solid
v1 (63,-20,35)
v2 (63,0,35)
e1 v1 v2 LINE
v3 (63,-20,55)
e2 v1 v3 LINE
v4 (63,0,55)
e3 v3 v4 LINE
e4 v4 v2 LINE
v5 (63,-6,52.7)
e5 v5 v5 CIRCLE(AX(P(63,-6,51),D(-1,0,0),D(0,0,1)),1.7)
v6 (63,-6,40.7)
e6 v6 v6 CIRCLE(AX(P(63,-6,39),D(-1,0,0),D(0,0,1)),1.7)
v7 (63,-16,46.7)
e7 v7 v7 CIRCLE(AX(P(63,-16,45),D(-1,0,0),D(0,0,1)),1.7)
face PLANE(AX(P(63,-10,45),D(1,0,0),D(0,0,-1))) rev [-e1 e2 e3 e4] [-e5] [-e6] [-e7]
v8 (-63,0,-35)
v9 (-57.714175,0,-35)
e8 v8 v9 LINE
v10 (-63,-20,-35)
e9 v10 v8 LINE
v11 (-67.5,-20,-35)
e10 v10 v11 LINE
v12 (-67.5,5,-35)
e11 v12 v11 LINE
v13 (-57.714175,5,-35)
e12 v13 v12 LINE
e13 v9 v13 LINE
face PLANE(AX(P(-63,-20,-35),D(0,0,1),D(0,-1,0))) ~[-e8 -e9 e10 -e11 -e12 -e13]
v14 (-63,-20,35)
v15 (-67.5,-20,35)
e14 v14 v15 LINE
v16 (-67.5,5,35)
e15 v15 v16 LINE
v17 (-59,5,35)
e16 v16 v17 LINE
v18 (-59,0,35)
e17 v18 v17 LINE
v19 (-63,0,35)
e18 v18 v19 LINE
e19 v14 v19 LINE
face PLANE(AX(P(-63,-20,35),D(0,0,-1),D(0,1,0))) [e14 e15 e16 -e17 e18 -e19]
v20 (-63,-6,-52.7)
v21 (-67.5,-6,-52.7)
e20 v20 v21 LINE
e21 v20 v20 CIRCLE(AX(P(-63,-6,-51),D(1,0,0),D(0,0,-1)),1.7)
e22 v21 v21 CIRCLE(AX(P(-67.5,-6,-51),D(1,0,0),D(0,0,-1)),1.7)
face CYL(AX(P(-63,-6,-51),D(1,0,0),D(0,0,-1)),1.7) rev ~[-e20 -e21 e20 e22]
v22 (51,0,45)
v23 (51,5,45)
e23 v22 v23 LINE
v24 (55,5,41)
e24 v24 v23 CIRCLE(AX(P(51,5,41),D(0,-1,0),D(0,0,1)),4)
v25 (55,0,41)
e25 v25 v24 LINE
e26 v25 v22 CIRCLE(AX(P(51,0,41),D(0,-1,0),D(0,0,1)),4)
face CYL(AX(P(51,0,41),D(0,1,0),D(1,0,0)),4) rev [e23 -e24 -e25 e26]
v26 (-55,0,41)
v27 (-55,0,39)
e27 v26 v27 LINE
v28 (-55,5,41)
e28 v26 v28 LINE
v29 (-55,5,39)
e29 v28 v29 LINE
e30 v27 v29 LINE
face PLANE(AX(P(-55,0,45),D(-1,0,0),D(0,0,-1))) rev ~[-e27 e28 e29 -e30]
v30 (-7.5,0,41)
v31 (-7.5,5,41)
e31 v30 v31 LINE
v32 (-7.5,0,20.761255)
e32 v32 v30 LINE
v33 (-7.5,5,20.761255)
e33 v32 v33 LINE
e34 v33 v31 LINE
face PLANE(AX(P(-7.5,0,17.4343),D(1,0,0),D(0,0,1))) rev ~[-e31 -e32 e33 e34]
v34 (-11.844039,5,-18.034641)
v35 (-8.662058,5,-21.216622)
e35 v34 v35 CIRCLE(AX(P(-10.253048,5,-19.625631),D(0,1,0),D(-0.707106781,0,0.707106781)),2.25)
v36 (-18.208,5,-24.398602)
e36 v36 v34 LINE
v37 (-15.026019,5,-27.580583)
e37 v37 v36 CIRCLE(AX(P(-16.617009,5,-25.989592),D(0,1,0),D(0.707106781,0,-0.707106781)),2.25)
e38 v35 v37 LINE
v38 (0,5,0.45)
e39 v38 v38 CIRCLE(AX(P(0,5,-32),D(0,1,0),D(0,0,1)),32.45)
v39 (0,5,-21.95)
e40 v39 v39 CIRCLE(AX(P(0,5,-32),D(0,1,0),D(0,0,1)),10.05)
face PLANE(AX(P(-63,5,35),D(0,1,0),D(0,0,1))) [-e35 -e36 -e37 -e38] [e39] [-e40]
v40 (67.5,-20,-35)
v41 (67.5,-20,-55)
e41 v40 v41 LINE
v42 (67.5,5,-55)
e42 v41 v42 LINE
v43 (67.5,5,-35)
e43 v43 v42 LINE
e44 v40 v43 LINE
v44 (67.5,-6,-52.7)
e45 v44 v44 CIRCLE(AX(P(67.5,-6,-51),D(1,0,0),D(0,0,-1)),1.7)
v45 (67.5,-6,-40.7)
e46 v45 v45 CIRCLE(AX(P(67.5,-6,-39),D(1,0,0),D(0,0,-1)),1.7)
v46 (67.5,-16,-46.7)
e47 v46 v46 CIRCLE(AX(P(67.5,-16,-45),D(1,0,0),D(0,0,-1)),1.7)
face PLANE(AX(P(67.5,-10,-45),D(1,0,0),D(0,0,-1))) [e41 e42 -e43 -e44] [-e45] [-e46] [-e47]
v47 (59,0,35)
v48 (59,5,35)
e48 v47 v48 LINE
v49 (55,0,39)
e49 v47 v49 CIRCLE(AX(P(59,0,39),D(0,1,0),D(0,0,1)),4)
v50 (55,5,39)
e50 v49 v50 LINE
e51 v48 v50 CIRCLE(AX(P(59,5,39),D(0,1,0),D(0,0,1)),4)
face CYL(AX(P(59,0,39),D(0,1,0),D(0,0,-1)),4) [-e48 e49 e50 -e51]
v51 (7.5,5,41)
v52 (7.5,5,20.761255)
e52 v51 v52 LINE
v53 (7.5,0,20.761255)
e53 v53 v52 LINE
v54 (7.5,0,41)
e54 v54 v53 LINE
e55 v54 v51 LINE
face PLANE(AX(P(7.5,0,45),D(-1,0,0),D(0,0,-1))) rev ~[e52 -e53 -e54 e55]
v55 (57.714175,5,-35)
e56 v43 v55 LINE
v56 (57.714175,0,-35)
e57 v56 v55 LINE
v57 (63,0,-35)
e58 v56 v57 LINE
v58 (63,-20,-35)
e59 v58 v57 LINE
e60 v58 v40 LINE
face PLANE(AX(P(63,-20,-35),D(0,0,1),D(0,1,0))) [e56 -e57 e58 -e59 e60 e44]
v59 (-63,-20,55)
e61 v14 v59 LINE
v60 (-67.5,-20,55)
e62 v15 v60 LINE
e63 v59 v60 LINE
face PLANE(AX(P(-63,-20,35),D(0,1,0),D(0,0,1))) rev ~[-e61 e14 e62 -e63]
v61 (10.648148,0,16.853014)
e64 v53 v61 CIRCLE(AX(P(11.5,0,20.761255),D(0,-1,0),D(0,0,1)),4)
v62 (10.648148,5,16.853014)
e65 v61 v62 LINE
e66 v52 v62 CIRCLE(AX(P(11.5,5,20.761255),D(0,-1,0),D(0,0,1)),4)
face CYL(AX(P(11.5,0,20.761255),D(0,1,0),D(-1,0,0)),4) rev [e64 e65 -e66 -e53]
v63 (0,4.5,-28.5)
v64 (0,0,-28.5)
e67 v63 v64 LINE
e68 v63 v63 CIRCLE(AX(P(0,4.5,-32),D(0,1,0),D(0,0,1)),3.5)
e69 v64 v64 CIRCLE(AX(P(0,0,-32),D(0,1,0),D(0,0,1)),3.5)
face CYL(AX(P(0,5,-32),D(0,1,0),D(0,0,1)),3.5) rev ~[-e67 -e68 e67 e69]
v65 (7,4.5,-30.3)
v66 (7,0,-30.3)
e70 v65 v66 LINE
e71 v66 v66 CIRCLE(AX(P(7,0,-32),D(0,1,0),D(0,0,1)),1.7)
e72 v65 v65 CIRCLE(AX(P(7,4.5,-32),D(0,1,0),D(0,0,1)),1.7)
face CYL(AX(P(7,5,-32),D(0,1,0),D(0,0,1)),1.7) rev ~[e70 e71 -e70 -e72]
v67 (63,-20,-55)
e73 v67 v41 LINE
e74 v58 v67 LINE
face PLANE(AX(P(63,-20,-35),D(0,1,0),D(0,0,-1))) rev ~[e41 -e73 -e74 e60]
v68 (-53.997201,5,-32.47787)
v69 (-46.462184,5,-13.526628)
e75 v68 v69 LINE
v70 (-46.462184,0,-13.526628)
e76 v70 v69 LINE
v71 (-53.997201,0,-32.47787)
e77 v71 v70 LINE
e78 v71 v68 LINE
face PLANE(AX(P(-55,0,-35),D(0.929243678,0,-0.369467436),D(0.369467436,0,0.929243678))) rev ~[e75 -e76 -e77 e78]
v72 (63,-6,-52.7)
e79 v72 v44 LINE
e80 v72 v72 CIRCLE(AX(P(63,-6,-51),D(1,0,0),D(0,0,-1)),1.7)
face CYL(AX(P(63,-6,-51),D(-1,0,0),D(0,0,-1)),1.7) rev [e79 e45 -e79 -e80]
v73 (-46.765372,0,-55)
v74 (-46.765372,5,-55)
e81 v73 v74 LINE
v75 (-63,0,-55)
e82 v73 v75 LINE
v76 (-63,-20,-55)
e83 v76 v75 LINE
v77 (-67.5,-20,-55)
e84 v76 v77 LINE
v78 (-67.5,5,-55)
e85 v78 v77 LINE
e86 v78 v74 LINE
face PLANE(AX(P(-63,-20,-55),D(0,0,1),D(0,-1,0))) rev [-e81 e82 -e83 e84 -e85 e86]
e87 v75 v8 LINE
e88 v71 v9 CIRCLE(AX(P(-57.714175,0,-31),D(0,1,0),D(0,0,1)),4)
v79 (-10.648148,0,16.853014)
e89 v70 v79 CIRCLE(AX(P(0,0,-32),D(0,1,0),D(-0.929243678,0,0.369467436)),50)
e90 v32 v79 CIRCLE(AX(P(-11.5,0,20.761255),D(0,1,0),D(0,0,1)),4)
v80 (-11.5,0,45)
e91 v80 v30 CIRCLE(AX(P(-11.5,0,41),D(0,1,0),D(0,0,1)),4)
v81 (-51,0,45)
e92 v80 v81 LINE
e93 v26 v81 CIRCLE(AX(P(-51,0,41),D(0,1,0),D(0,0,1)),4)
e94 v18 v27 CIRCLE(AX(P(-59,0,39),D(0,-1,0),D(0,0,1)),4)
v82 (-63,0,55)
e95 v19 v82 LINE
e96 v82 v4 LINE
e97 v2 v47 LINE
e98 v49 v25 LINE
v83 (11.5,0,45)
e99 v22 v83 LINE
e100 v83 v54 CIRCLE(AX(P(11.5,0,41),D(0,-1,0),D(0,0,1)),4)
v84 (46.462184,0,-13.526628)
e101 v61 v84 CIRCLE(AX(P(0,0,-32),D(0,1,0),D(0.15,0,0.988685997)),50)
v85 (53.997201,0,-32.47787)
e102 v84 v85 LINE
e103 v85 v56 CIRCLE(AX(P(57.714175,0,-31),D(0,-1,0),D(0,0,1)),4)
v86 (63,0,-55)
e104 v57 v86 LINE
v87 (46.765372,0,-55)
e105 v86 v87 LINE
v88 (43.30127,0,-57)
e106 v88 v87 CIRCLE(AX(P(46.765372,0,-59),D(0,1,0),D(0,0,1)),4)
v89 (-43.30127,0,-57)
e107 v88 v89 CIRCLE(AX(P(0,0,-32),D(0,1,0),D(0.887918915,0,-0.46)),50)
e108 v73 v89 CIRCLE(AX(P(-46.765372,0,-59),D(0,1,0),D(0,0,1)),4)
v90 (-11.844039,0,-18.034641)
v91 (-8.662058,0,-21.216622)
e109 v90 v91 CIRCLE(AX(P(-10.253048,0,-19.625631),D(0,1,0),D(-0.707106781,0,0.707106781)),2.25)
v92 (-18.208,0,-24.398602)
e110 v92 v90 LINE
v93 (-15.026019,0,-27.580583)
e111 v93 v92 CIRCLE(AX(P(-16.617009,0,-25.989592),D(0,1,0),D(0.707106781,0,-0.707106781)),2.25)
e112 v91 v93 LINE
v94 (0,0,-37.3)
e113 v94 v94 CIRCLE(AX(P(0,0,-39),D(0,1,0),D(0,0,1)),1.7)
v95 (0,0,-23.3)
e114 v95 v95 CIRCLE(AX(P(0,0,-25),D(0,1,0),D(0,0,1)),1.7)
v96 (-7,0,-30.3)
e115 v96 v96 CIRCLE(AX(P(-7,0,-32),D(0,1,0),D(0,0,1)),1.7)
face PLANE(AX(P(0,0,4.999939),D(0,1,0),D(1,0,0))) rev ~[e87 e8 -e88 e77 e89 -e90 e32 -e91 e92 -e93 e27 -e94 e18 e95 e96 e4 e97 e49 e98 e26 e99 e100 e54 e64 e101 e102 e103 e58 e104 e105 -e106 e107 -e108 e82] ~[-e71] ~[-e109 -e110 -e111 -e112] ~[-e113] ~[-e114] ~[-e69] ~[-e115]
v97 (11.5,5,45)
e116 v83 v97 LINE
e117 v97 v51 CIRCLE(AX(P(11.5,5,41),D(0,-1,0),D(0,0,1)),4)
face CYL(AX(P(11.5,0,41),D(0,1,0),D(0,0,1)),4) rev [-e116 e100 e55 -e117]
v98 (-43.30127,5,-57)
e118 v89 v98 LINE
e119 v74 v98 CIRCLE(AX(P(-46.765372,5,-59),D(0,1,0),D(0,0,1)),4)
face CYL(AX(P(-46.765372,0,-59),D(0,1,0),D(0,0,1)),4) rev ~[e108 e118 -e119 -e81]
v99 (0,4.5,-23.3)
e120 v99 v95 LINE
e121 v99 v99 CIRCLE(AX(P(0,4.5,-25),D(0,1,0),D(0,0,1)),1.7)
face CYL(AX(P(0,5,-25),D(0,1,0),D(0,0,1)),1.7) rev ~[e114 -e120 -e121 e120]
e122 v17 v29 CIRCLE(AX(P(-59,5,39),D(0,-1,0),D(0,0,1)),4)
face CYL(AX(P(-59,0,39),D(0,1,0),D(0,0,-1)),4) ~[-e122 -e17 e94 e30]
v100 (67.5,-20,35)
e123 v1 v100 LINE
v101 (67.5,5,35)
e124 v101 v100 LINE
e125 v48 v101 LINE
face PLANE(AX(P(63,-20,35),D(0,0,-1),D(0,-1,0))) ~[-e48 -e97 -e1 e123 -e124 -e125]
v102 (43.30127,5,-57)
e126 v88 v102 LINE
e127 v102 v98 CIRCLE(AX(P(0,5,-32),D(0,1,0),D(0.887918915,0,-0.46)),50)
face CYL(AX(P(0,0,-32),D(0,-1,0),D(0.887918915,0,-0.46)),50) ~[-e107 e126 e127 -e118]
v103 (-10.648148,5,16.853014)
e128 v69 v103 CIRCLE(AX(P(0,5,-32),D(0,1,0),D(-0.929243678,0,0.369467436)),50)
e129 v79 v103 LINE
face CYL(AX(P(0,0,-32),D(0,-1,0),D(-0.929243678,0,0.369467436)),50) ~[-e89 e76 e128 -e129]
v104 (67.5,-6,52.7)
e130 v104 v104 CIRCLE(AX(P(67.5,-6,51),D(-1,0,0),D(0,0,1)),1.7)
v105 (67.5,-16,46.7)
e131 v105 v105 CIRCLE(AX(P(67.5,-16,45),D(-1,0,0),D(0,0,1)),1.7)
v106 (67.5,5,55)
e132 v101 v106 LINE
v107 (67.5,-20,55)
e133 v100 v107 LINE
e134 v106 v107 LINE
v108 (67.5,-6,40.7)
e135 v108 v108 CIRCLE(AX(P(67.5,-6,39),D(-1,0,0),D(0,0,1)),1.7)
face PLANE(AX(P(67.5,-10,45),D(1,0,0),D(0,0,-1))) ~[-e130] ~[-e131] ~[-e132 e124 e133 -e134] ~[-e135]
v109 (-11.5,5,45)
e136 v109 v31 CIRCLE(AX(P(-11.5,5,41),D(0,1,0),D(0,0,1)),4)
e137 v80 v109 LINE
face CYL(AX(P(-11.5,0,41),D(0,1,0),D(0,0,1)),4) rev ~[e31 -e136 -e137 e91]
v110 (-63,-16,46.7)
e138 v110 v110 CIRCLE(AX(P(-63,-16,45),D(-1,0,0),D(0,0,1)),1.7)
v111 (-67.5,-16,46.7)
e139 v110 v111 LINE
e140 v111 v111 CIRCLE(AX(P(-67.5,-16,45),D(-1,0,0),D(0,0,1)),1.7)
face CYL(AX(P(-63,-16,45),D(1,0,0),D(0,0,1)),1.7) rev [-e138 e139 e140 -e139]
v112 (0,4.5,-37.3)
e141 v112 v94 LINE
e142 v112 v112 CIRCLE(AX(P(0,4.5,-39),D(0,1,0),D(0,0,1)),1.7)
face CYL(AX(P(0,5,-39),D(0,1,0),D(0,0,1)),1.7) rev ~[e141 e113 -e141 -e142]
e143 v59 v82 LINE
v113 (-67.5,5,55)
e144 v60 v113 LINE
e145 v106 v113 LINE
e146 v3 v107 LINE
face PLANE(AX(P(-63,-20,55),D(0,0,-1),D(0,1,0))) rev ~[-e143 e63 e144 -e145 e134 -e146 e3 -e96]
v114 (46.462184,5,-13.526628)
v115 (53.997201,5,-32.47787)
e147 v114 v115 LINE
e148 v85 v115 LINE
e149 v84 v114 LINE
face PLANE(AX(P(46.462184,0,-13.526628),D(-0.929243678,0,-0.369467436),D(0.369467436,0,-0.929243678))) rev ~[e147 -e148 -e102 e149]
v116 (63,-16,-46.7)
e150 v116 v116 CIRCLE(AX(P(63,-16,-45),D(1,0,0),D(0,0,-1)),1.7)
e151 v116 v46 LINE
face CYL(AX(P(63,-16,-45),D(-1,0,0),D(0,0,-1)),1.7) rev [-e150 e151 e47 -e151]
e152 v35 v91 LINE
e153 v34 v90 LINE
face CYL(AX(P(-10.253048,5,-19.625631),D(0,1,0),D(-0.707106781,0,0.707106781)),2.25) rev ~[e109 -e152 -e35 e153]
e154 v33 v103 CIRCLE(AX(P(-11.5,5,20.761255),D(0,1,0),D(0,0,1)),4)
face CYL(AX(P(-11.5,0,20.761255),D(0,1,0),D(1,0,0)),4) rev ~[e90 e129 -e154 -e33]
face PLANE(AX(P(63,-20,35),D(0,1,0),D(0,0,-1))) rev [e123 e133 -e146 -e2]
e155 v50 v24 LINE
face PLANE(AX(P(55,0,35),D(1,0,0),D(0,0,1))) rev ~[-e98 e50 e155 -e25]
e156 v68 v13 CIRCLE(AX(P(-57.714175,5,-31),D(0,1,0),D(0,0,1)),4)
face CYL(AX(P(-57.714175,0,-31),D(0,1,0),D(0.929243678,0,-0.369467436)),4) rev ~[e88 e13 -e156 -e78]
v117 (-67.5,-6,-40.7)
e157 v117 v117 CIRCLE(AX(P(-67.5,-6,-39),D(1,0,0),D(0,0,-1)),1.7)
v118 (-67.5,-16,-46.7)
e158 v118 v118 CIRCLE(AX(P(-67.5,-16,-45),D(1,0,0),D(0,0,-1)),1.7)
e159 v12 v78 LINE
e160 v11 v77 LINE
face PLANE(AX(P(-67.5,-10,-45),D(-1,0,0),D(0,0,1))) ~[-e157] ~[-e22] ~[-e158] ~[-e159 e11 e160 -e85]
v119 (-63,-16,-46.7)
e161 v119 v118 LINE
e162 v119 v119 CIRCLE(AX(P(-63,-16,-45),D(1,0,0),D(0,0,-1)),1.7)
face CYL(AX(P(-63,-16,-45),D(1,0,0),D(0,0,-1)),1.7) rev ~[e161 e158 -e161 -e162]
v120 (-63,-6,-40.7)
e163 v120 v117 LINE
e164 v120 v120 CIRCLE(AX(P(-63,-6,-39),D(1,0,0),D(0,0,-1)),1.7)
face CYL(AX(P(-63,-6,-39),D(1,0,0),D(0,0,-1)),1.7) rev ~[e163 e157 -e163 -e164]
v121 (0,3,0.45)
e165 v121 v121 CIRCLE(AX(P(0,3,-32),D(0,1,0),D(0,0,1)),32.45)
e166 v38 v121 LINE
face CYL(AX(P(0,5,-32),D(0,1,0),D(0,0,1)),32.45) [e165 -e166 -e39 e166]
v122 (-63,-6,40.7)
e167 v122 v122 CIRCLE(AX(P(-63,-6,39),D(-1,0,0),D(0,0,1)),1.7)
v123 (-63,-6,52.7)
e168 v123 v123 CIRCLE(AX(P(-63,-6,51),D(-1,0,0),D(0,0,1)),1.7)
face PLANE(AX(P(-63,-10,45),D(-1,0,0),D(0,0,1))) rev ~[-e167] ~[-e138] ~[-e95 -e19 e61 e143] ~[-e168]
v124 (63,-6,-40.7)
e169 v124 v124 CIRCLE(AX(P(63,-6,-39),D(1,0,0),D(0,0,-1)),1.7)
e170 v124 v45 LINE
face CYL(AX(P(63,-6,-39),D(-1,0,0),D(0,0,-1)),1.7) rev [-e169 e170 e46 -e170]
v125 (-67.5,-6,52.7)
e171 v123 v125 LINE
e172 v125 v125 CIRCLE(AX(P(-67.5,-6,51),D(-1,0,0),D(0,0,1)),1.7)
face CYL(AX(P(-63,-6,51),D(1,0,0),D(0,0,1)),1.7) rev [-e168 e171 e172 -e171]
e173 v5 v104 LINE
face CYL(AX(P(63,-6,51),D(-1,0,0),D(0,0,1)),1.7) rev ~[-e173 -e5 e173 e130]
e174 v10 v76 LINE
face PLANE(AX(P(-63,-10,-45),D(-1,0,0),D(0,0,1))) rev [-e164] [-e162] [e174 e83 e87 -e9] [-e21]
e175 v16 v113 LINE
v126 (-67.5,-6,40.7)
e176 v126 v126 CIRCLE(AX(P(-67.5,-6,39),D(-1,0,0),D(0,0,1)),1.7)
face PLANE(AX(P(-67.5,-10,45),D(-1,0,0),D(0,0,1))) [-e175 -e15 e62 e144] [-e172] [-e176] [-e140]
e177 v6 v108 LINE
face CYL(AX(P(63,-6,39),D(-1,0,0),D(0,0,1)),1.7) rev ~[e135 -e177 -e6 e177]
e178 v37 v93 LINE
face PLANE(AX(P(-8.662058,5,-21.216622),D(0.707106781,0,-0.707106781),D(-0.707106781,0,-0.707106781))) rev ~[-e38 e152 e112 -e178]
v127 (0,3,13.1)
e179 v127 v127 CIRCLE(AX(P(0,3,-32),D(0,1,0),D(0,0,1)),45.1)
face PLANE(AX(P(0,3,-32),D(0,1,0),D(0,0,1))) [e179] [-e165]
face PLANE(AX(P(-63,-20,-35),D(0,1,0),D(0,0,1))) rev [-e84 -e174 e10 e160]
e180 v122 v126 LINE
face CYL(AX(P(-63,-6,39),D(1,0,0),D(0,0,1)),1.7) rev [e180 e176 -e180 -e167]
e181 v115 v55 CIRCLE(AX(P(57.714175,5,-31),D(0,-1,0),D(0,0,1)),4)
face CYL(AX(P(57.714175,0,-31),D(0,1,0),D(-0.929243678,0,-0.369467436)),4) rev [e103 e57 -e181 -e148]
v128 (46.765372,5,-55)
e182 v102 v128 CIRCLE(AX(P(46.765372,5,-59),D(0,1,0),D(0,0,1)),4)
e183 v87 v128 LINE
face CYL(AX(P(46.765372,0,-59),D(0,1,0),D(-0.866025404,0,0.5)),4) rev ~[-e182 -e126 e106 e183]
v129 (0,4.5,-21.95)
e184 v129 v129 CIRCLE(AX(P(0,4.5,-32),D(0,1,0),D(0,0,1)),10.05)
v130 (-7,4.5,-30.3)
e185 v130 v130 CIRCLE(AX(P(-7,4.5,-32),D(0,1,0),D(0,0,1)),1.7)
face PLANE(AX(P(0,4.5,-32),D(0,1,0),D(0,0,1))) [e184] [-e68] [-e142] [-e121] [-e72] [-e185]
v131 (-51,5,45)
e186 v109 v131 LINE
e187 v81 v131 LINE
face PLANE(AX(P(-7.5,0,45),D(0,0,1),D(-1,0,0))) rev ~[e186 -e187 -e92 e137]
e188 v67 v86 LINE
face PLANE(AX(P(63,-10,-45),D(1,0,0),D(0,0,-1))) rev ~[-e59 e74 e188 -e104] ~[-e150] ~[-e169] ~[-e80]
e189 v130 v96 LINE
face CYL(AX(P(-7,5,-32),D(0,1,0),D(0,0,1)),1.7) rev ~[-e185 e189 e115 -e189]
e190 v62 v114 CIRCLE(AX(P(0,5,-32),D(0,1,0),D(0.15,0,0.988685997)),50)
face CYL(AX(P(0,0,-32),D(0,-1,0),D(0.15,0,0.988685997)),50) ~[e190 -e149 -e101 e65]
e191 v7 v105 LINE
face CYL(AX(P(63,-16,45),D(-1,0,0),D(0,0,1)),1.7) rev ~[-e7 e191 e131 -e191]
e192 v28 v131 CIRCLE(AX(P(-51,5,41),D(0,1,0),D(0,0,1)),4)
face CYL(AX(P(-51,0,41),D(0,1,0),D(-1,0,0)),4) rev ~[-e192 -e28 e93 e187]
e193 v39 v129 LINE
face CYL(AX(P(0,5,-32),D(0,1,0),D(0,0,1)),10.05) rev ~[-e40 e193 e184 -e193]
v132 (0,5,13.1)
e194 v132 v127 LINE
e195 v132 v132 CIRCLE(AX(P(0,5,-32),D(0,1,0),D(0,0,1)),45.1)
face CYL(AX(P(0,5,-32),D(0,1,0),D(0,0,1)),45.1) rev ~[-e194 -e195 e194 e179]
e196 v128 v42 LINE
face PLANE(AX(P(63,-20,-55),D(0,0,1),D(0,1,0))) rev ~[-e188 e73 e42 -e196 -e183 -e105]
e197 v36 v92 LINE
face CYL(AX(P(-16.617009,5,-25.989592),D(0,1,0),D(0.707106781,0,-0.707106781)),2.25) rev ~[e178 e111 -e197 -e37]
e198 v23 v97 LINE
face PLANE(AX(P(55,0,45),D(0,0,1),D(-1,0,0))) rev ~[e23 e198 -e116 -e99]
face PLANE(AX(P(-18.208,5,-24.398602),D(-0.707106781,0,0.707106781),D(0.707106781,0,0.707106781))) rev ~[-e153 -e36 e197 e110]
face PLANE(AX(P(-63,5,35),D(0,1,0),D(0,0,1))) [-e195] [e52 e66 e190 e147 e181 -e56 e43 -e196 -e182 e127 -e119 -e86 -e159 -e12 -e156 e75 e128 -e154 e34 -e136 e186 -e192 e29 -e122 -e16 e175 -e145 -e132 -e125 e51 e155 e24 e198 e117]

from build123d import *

# Parameters (mm, degrees)
EXTRUDE_1_DEPTH          = 5
SKETCH_2_W               = 20
SKETCH_2_H               = 25
SKETCH_2_R               = 1.7
EXTRUDE_2_DEPTH          = 4.5
MIRROR_2_COPY_1_SKETCH_W = 20
MIRROR_2_COPY_1_SKETCH_H = 25
MIRROR_2_COPY_1_SKETCH_R = 1.7
MIRROR_2_COPY_1_DEPTH    = 4.5
SKETCH_3_R               = 45.1
SKETCH_3_R_2             = 32.45
CUT_EXTRUDE_1_DEPTH      = 2
SKETCH_3_3_R             = 1.7
SKETCH_3_3_R_2           = 3.5
CUT_EXTRUDE_2_DEPTH      = 110.111181828
SKETCH_3_4_R             = 10.05
SKETCH_3_4_R_2           = 1.7
SKETCH_3_4_R_3           = 3.5
CUT_EXTRUDE_3_DEPTH      = 0.5
CUT_EXTRUDE_4_DEPTH      = 110.111181828
FILLET_1_R               = 4


with BuildPart() as part:
    # 草图1 → 凸台-拉伸1 (new body)
    with BuildSketch(Plane(origin=(0, 0, 0), x_dir=(1, 0, 0), z_dir=(0, 1, 0))):
        with BuildLine():
            Line((-63, 55), (-63, 35))
            Line((-63, 35), (-55, 35))
            Line((-55, 35), (-46.462183916, 13.526628199))
            ThreePointArc((-46.462183916, 13.526628199), (-31.106656674, -7.145573321), (-7.5, -17.434299833))
            Line((-7.5, -17.434299833), (-7.5, -45))
            Line((-7.5, -45), (-55, -45))
            Line((-55, -45), (-55, -35))
            Line((-55, -35), (-63, -35))
            Line((-63, -35), (-63, -55))
            Line((-63, -55), (63, -55))
            Line((63, -55), (63, -35))
            Line((63, -35), (55, -35))
            Line((55, -35), (55, -45))
            Line((55, -45), (7.5, -45))
            Line((7.5, -45), (7.5, -17.434299833))
            ThreePointArc((7.5, -17.434299833), (31.106656674, -7.145573321), (46.462183916, 13.526628199))
            Line((46.462183916, 13.526628199), (55, 35))
            Line((55, 35), (63, 35))
            Line((63, 35), (63, 55))
            Line((63, 55), (44.395945761, 55))
            ThreePointArc((44.395945761, 55), (0, 82), (-44.395945761, 55))
            Line((-44.395945761, 55), (-63, 55))
        make_face()
    extrude(amount=EXTRUDE_1_DEPTH)

    # 草图2 → 凸台-拉伸2 (add)
    with BuildSketch(Plane(origin=(63, 0, 0), x_dir=(0, 0, -1), z_dir=(1, 0, 0))):
        with Locations((45, -7.5)):
            Rectangle(SKETCH_2_W, SKETCH_2_H)
        with Locations((51, -6)):
            Circle(SKETCH_2_R, mode=Mode.SUBTRACT)
        with Locations((45, -16)):
            Circle(SKETCH_2_R, mode=Mode.SUBTRACT)
        with Locations((39, -6)):
            Circle(SKETCH_2_R, mode=Mode.SUBTRACT)
    extrude_2 = extrude(amount=EXTRUDE_2_DEPTH)

    # 镜向1: 凸台-拉伸2 across plane
    add(extrude_2.mirror(Plane.XY))

    # 镜向2: 凸台-拉伸2 across plane
    add(extrude_2.mirror(Plane(origin=(0, 0, 0), x_dir=(0, 0, 1), z_dir=(1, 0, 0))))

    # 镜向2 copy 1 sketch → 镜向2 copy 1 (add)
    with BuildSketch(Plane.ZY.offset(63)):
        with Locations((45, -7.5)):
            Rectangle(MIRROR_2_COPY_1_SKETCH_W, MIRROR_2_COPY_1_SKETCH_H)
        with Locations((51, -6)):
            Circle(MIRROR_2_COPY_1_SKETCH_R, mode=Mode.SUBTRACT)
        with Locations((45, -16)):
            Circle(MIRROR_2_COPY_1_SKETCH_R, mode=Mode.SUBTRACT)
        with Locations((39, -6)):
            Circle(MIRROR_2_COPY_1_SKETCH_R, mode=Mode.SUBTRACT)
    extrude(amount=MIRROR_2_COPY_1_DEPTH)

    # 草图3 → 切除-拉伸1 (cut)
    with BuildSketch(Plane(origin=(0, 5, 0), x_dir=(1, 0, 0), z_dir=(0, 1, 0))):
        with Locations((0, 32)):
            Circle(SKETCH_3_R)
        with Locations((0, 32)):
            Circle(SKETCH_3_R_2, mode=Mode.SUBTRACT)
    extrude(amount=-CUT_EXTRUDE_1_DEPTH, mode=Mode.SUBTRACT)

    # 草图3<3> → 切除-拉伸2 (cut, through all)
    with BuildSketch(Plane(origin=(0, 5, 0), x_dir=(1, 0, 0), z_dir=(0, 1, 0))):
        with Locations((0, 39)):
            Circle(SKETCH_3_3_R)
        with Locations((7, 32)):
            Circle(SKETCH_3_3_R)
        with Locations((0, 25)):
            Circle(SKETCH_3_3_R)
        with Locations((-7, 32)):
            Circle(SKETCH_3_3_R)
        with Locations((0, 32)):
            Circle(SKETCH_3_3_R_2)
    extrude(amount=-CUT_EXTRUDE_2_DEPTH, mode=Mode.SUBTRACT)

    # 草图3<4> → 切除-拉伸3 (cut)
    with BuildSketch(Plane(origin=(0, 5, 0), x_dir=(1, 0, 0), z_dir=(0, 1, 0))):
        with Locations((0, 32)):
            Circle(SKETCH_3_4_R)
        with Locations((0, 25)):
            Circle(SKETCH_3_4_R_2, mode=Mode.SUBTRACT)
        with Locations((-7, 32)):
            Circle(SKETCH_3_4_R_2, mode=Mode.SUBTRACT)
        with Locations((0, 39)):
            Circle(SKETCH_3_4_R_2, mode=Mode.SUBTRACT)
        with Locations((0, 32)):
            Circle(SKETCH_3_4_R_3, mode=Mode.SUBTRACT)
        with Locations((7, 32)):
            Circle(SKETCH_3_4_R_2, mode=Mode.SUBTRACT)
    extrude(amount=-CUT_EXTRUDE_3_DEPTH, mode=Mode.SUBTRACT)

    # 草图4 → 切除-拉伸4 (cut, through all)
    with BuildSketch(Plane(origin=(0, 5, 0), x_dir=(1, 0, 0), z_dir=(0, 1, 0))):
        with BuildLine():
            Line((-8.66205807, 21.216621587), (-15.0260191, 27.580582618))
            ThreePointArc((-15.0260191, 27.580582618), (-18.207999616, 27.580582618), (-18.207999616, 24.398602102))
            Line((-18.207999616, 24.398602102), (-11.844038585, 18.034641072))
            ThreePointArc((-11.844038585, 18.034641072), (-8.66205807, 18.034641072), (-8.66205807, 21.216621587))
        make_face()
    extrude(amount=-CUT_EXTRUDE_4_DEPTH, mode=Mode.SUBTRACT)

    # 圆角1
    fillet_1_edges = [part.edges().sort_by_distance(p)[0] for p in [
        (55, 2.5, -35),
        (55, 2.5, 35),
        (55, 2.5, 45),
        (7.5, 2.5, 17.434299833),
        (7.5, 2.5, 45),
        (-55, 2.5, 35),
        (-55, 2.5, 45),
        (-7.5, 2.5, 45),
        (-7.5, 2.5, 17.434299833),
        (-55, 2.5, -35),
        (-44.395945761, 2.5, -55),
        (44.395945761, 2.5, -55),
    ]]
    fillet(fillet_1_edges, radius=FILLET_1_R)


solid = part.part
